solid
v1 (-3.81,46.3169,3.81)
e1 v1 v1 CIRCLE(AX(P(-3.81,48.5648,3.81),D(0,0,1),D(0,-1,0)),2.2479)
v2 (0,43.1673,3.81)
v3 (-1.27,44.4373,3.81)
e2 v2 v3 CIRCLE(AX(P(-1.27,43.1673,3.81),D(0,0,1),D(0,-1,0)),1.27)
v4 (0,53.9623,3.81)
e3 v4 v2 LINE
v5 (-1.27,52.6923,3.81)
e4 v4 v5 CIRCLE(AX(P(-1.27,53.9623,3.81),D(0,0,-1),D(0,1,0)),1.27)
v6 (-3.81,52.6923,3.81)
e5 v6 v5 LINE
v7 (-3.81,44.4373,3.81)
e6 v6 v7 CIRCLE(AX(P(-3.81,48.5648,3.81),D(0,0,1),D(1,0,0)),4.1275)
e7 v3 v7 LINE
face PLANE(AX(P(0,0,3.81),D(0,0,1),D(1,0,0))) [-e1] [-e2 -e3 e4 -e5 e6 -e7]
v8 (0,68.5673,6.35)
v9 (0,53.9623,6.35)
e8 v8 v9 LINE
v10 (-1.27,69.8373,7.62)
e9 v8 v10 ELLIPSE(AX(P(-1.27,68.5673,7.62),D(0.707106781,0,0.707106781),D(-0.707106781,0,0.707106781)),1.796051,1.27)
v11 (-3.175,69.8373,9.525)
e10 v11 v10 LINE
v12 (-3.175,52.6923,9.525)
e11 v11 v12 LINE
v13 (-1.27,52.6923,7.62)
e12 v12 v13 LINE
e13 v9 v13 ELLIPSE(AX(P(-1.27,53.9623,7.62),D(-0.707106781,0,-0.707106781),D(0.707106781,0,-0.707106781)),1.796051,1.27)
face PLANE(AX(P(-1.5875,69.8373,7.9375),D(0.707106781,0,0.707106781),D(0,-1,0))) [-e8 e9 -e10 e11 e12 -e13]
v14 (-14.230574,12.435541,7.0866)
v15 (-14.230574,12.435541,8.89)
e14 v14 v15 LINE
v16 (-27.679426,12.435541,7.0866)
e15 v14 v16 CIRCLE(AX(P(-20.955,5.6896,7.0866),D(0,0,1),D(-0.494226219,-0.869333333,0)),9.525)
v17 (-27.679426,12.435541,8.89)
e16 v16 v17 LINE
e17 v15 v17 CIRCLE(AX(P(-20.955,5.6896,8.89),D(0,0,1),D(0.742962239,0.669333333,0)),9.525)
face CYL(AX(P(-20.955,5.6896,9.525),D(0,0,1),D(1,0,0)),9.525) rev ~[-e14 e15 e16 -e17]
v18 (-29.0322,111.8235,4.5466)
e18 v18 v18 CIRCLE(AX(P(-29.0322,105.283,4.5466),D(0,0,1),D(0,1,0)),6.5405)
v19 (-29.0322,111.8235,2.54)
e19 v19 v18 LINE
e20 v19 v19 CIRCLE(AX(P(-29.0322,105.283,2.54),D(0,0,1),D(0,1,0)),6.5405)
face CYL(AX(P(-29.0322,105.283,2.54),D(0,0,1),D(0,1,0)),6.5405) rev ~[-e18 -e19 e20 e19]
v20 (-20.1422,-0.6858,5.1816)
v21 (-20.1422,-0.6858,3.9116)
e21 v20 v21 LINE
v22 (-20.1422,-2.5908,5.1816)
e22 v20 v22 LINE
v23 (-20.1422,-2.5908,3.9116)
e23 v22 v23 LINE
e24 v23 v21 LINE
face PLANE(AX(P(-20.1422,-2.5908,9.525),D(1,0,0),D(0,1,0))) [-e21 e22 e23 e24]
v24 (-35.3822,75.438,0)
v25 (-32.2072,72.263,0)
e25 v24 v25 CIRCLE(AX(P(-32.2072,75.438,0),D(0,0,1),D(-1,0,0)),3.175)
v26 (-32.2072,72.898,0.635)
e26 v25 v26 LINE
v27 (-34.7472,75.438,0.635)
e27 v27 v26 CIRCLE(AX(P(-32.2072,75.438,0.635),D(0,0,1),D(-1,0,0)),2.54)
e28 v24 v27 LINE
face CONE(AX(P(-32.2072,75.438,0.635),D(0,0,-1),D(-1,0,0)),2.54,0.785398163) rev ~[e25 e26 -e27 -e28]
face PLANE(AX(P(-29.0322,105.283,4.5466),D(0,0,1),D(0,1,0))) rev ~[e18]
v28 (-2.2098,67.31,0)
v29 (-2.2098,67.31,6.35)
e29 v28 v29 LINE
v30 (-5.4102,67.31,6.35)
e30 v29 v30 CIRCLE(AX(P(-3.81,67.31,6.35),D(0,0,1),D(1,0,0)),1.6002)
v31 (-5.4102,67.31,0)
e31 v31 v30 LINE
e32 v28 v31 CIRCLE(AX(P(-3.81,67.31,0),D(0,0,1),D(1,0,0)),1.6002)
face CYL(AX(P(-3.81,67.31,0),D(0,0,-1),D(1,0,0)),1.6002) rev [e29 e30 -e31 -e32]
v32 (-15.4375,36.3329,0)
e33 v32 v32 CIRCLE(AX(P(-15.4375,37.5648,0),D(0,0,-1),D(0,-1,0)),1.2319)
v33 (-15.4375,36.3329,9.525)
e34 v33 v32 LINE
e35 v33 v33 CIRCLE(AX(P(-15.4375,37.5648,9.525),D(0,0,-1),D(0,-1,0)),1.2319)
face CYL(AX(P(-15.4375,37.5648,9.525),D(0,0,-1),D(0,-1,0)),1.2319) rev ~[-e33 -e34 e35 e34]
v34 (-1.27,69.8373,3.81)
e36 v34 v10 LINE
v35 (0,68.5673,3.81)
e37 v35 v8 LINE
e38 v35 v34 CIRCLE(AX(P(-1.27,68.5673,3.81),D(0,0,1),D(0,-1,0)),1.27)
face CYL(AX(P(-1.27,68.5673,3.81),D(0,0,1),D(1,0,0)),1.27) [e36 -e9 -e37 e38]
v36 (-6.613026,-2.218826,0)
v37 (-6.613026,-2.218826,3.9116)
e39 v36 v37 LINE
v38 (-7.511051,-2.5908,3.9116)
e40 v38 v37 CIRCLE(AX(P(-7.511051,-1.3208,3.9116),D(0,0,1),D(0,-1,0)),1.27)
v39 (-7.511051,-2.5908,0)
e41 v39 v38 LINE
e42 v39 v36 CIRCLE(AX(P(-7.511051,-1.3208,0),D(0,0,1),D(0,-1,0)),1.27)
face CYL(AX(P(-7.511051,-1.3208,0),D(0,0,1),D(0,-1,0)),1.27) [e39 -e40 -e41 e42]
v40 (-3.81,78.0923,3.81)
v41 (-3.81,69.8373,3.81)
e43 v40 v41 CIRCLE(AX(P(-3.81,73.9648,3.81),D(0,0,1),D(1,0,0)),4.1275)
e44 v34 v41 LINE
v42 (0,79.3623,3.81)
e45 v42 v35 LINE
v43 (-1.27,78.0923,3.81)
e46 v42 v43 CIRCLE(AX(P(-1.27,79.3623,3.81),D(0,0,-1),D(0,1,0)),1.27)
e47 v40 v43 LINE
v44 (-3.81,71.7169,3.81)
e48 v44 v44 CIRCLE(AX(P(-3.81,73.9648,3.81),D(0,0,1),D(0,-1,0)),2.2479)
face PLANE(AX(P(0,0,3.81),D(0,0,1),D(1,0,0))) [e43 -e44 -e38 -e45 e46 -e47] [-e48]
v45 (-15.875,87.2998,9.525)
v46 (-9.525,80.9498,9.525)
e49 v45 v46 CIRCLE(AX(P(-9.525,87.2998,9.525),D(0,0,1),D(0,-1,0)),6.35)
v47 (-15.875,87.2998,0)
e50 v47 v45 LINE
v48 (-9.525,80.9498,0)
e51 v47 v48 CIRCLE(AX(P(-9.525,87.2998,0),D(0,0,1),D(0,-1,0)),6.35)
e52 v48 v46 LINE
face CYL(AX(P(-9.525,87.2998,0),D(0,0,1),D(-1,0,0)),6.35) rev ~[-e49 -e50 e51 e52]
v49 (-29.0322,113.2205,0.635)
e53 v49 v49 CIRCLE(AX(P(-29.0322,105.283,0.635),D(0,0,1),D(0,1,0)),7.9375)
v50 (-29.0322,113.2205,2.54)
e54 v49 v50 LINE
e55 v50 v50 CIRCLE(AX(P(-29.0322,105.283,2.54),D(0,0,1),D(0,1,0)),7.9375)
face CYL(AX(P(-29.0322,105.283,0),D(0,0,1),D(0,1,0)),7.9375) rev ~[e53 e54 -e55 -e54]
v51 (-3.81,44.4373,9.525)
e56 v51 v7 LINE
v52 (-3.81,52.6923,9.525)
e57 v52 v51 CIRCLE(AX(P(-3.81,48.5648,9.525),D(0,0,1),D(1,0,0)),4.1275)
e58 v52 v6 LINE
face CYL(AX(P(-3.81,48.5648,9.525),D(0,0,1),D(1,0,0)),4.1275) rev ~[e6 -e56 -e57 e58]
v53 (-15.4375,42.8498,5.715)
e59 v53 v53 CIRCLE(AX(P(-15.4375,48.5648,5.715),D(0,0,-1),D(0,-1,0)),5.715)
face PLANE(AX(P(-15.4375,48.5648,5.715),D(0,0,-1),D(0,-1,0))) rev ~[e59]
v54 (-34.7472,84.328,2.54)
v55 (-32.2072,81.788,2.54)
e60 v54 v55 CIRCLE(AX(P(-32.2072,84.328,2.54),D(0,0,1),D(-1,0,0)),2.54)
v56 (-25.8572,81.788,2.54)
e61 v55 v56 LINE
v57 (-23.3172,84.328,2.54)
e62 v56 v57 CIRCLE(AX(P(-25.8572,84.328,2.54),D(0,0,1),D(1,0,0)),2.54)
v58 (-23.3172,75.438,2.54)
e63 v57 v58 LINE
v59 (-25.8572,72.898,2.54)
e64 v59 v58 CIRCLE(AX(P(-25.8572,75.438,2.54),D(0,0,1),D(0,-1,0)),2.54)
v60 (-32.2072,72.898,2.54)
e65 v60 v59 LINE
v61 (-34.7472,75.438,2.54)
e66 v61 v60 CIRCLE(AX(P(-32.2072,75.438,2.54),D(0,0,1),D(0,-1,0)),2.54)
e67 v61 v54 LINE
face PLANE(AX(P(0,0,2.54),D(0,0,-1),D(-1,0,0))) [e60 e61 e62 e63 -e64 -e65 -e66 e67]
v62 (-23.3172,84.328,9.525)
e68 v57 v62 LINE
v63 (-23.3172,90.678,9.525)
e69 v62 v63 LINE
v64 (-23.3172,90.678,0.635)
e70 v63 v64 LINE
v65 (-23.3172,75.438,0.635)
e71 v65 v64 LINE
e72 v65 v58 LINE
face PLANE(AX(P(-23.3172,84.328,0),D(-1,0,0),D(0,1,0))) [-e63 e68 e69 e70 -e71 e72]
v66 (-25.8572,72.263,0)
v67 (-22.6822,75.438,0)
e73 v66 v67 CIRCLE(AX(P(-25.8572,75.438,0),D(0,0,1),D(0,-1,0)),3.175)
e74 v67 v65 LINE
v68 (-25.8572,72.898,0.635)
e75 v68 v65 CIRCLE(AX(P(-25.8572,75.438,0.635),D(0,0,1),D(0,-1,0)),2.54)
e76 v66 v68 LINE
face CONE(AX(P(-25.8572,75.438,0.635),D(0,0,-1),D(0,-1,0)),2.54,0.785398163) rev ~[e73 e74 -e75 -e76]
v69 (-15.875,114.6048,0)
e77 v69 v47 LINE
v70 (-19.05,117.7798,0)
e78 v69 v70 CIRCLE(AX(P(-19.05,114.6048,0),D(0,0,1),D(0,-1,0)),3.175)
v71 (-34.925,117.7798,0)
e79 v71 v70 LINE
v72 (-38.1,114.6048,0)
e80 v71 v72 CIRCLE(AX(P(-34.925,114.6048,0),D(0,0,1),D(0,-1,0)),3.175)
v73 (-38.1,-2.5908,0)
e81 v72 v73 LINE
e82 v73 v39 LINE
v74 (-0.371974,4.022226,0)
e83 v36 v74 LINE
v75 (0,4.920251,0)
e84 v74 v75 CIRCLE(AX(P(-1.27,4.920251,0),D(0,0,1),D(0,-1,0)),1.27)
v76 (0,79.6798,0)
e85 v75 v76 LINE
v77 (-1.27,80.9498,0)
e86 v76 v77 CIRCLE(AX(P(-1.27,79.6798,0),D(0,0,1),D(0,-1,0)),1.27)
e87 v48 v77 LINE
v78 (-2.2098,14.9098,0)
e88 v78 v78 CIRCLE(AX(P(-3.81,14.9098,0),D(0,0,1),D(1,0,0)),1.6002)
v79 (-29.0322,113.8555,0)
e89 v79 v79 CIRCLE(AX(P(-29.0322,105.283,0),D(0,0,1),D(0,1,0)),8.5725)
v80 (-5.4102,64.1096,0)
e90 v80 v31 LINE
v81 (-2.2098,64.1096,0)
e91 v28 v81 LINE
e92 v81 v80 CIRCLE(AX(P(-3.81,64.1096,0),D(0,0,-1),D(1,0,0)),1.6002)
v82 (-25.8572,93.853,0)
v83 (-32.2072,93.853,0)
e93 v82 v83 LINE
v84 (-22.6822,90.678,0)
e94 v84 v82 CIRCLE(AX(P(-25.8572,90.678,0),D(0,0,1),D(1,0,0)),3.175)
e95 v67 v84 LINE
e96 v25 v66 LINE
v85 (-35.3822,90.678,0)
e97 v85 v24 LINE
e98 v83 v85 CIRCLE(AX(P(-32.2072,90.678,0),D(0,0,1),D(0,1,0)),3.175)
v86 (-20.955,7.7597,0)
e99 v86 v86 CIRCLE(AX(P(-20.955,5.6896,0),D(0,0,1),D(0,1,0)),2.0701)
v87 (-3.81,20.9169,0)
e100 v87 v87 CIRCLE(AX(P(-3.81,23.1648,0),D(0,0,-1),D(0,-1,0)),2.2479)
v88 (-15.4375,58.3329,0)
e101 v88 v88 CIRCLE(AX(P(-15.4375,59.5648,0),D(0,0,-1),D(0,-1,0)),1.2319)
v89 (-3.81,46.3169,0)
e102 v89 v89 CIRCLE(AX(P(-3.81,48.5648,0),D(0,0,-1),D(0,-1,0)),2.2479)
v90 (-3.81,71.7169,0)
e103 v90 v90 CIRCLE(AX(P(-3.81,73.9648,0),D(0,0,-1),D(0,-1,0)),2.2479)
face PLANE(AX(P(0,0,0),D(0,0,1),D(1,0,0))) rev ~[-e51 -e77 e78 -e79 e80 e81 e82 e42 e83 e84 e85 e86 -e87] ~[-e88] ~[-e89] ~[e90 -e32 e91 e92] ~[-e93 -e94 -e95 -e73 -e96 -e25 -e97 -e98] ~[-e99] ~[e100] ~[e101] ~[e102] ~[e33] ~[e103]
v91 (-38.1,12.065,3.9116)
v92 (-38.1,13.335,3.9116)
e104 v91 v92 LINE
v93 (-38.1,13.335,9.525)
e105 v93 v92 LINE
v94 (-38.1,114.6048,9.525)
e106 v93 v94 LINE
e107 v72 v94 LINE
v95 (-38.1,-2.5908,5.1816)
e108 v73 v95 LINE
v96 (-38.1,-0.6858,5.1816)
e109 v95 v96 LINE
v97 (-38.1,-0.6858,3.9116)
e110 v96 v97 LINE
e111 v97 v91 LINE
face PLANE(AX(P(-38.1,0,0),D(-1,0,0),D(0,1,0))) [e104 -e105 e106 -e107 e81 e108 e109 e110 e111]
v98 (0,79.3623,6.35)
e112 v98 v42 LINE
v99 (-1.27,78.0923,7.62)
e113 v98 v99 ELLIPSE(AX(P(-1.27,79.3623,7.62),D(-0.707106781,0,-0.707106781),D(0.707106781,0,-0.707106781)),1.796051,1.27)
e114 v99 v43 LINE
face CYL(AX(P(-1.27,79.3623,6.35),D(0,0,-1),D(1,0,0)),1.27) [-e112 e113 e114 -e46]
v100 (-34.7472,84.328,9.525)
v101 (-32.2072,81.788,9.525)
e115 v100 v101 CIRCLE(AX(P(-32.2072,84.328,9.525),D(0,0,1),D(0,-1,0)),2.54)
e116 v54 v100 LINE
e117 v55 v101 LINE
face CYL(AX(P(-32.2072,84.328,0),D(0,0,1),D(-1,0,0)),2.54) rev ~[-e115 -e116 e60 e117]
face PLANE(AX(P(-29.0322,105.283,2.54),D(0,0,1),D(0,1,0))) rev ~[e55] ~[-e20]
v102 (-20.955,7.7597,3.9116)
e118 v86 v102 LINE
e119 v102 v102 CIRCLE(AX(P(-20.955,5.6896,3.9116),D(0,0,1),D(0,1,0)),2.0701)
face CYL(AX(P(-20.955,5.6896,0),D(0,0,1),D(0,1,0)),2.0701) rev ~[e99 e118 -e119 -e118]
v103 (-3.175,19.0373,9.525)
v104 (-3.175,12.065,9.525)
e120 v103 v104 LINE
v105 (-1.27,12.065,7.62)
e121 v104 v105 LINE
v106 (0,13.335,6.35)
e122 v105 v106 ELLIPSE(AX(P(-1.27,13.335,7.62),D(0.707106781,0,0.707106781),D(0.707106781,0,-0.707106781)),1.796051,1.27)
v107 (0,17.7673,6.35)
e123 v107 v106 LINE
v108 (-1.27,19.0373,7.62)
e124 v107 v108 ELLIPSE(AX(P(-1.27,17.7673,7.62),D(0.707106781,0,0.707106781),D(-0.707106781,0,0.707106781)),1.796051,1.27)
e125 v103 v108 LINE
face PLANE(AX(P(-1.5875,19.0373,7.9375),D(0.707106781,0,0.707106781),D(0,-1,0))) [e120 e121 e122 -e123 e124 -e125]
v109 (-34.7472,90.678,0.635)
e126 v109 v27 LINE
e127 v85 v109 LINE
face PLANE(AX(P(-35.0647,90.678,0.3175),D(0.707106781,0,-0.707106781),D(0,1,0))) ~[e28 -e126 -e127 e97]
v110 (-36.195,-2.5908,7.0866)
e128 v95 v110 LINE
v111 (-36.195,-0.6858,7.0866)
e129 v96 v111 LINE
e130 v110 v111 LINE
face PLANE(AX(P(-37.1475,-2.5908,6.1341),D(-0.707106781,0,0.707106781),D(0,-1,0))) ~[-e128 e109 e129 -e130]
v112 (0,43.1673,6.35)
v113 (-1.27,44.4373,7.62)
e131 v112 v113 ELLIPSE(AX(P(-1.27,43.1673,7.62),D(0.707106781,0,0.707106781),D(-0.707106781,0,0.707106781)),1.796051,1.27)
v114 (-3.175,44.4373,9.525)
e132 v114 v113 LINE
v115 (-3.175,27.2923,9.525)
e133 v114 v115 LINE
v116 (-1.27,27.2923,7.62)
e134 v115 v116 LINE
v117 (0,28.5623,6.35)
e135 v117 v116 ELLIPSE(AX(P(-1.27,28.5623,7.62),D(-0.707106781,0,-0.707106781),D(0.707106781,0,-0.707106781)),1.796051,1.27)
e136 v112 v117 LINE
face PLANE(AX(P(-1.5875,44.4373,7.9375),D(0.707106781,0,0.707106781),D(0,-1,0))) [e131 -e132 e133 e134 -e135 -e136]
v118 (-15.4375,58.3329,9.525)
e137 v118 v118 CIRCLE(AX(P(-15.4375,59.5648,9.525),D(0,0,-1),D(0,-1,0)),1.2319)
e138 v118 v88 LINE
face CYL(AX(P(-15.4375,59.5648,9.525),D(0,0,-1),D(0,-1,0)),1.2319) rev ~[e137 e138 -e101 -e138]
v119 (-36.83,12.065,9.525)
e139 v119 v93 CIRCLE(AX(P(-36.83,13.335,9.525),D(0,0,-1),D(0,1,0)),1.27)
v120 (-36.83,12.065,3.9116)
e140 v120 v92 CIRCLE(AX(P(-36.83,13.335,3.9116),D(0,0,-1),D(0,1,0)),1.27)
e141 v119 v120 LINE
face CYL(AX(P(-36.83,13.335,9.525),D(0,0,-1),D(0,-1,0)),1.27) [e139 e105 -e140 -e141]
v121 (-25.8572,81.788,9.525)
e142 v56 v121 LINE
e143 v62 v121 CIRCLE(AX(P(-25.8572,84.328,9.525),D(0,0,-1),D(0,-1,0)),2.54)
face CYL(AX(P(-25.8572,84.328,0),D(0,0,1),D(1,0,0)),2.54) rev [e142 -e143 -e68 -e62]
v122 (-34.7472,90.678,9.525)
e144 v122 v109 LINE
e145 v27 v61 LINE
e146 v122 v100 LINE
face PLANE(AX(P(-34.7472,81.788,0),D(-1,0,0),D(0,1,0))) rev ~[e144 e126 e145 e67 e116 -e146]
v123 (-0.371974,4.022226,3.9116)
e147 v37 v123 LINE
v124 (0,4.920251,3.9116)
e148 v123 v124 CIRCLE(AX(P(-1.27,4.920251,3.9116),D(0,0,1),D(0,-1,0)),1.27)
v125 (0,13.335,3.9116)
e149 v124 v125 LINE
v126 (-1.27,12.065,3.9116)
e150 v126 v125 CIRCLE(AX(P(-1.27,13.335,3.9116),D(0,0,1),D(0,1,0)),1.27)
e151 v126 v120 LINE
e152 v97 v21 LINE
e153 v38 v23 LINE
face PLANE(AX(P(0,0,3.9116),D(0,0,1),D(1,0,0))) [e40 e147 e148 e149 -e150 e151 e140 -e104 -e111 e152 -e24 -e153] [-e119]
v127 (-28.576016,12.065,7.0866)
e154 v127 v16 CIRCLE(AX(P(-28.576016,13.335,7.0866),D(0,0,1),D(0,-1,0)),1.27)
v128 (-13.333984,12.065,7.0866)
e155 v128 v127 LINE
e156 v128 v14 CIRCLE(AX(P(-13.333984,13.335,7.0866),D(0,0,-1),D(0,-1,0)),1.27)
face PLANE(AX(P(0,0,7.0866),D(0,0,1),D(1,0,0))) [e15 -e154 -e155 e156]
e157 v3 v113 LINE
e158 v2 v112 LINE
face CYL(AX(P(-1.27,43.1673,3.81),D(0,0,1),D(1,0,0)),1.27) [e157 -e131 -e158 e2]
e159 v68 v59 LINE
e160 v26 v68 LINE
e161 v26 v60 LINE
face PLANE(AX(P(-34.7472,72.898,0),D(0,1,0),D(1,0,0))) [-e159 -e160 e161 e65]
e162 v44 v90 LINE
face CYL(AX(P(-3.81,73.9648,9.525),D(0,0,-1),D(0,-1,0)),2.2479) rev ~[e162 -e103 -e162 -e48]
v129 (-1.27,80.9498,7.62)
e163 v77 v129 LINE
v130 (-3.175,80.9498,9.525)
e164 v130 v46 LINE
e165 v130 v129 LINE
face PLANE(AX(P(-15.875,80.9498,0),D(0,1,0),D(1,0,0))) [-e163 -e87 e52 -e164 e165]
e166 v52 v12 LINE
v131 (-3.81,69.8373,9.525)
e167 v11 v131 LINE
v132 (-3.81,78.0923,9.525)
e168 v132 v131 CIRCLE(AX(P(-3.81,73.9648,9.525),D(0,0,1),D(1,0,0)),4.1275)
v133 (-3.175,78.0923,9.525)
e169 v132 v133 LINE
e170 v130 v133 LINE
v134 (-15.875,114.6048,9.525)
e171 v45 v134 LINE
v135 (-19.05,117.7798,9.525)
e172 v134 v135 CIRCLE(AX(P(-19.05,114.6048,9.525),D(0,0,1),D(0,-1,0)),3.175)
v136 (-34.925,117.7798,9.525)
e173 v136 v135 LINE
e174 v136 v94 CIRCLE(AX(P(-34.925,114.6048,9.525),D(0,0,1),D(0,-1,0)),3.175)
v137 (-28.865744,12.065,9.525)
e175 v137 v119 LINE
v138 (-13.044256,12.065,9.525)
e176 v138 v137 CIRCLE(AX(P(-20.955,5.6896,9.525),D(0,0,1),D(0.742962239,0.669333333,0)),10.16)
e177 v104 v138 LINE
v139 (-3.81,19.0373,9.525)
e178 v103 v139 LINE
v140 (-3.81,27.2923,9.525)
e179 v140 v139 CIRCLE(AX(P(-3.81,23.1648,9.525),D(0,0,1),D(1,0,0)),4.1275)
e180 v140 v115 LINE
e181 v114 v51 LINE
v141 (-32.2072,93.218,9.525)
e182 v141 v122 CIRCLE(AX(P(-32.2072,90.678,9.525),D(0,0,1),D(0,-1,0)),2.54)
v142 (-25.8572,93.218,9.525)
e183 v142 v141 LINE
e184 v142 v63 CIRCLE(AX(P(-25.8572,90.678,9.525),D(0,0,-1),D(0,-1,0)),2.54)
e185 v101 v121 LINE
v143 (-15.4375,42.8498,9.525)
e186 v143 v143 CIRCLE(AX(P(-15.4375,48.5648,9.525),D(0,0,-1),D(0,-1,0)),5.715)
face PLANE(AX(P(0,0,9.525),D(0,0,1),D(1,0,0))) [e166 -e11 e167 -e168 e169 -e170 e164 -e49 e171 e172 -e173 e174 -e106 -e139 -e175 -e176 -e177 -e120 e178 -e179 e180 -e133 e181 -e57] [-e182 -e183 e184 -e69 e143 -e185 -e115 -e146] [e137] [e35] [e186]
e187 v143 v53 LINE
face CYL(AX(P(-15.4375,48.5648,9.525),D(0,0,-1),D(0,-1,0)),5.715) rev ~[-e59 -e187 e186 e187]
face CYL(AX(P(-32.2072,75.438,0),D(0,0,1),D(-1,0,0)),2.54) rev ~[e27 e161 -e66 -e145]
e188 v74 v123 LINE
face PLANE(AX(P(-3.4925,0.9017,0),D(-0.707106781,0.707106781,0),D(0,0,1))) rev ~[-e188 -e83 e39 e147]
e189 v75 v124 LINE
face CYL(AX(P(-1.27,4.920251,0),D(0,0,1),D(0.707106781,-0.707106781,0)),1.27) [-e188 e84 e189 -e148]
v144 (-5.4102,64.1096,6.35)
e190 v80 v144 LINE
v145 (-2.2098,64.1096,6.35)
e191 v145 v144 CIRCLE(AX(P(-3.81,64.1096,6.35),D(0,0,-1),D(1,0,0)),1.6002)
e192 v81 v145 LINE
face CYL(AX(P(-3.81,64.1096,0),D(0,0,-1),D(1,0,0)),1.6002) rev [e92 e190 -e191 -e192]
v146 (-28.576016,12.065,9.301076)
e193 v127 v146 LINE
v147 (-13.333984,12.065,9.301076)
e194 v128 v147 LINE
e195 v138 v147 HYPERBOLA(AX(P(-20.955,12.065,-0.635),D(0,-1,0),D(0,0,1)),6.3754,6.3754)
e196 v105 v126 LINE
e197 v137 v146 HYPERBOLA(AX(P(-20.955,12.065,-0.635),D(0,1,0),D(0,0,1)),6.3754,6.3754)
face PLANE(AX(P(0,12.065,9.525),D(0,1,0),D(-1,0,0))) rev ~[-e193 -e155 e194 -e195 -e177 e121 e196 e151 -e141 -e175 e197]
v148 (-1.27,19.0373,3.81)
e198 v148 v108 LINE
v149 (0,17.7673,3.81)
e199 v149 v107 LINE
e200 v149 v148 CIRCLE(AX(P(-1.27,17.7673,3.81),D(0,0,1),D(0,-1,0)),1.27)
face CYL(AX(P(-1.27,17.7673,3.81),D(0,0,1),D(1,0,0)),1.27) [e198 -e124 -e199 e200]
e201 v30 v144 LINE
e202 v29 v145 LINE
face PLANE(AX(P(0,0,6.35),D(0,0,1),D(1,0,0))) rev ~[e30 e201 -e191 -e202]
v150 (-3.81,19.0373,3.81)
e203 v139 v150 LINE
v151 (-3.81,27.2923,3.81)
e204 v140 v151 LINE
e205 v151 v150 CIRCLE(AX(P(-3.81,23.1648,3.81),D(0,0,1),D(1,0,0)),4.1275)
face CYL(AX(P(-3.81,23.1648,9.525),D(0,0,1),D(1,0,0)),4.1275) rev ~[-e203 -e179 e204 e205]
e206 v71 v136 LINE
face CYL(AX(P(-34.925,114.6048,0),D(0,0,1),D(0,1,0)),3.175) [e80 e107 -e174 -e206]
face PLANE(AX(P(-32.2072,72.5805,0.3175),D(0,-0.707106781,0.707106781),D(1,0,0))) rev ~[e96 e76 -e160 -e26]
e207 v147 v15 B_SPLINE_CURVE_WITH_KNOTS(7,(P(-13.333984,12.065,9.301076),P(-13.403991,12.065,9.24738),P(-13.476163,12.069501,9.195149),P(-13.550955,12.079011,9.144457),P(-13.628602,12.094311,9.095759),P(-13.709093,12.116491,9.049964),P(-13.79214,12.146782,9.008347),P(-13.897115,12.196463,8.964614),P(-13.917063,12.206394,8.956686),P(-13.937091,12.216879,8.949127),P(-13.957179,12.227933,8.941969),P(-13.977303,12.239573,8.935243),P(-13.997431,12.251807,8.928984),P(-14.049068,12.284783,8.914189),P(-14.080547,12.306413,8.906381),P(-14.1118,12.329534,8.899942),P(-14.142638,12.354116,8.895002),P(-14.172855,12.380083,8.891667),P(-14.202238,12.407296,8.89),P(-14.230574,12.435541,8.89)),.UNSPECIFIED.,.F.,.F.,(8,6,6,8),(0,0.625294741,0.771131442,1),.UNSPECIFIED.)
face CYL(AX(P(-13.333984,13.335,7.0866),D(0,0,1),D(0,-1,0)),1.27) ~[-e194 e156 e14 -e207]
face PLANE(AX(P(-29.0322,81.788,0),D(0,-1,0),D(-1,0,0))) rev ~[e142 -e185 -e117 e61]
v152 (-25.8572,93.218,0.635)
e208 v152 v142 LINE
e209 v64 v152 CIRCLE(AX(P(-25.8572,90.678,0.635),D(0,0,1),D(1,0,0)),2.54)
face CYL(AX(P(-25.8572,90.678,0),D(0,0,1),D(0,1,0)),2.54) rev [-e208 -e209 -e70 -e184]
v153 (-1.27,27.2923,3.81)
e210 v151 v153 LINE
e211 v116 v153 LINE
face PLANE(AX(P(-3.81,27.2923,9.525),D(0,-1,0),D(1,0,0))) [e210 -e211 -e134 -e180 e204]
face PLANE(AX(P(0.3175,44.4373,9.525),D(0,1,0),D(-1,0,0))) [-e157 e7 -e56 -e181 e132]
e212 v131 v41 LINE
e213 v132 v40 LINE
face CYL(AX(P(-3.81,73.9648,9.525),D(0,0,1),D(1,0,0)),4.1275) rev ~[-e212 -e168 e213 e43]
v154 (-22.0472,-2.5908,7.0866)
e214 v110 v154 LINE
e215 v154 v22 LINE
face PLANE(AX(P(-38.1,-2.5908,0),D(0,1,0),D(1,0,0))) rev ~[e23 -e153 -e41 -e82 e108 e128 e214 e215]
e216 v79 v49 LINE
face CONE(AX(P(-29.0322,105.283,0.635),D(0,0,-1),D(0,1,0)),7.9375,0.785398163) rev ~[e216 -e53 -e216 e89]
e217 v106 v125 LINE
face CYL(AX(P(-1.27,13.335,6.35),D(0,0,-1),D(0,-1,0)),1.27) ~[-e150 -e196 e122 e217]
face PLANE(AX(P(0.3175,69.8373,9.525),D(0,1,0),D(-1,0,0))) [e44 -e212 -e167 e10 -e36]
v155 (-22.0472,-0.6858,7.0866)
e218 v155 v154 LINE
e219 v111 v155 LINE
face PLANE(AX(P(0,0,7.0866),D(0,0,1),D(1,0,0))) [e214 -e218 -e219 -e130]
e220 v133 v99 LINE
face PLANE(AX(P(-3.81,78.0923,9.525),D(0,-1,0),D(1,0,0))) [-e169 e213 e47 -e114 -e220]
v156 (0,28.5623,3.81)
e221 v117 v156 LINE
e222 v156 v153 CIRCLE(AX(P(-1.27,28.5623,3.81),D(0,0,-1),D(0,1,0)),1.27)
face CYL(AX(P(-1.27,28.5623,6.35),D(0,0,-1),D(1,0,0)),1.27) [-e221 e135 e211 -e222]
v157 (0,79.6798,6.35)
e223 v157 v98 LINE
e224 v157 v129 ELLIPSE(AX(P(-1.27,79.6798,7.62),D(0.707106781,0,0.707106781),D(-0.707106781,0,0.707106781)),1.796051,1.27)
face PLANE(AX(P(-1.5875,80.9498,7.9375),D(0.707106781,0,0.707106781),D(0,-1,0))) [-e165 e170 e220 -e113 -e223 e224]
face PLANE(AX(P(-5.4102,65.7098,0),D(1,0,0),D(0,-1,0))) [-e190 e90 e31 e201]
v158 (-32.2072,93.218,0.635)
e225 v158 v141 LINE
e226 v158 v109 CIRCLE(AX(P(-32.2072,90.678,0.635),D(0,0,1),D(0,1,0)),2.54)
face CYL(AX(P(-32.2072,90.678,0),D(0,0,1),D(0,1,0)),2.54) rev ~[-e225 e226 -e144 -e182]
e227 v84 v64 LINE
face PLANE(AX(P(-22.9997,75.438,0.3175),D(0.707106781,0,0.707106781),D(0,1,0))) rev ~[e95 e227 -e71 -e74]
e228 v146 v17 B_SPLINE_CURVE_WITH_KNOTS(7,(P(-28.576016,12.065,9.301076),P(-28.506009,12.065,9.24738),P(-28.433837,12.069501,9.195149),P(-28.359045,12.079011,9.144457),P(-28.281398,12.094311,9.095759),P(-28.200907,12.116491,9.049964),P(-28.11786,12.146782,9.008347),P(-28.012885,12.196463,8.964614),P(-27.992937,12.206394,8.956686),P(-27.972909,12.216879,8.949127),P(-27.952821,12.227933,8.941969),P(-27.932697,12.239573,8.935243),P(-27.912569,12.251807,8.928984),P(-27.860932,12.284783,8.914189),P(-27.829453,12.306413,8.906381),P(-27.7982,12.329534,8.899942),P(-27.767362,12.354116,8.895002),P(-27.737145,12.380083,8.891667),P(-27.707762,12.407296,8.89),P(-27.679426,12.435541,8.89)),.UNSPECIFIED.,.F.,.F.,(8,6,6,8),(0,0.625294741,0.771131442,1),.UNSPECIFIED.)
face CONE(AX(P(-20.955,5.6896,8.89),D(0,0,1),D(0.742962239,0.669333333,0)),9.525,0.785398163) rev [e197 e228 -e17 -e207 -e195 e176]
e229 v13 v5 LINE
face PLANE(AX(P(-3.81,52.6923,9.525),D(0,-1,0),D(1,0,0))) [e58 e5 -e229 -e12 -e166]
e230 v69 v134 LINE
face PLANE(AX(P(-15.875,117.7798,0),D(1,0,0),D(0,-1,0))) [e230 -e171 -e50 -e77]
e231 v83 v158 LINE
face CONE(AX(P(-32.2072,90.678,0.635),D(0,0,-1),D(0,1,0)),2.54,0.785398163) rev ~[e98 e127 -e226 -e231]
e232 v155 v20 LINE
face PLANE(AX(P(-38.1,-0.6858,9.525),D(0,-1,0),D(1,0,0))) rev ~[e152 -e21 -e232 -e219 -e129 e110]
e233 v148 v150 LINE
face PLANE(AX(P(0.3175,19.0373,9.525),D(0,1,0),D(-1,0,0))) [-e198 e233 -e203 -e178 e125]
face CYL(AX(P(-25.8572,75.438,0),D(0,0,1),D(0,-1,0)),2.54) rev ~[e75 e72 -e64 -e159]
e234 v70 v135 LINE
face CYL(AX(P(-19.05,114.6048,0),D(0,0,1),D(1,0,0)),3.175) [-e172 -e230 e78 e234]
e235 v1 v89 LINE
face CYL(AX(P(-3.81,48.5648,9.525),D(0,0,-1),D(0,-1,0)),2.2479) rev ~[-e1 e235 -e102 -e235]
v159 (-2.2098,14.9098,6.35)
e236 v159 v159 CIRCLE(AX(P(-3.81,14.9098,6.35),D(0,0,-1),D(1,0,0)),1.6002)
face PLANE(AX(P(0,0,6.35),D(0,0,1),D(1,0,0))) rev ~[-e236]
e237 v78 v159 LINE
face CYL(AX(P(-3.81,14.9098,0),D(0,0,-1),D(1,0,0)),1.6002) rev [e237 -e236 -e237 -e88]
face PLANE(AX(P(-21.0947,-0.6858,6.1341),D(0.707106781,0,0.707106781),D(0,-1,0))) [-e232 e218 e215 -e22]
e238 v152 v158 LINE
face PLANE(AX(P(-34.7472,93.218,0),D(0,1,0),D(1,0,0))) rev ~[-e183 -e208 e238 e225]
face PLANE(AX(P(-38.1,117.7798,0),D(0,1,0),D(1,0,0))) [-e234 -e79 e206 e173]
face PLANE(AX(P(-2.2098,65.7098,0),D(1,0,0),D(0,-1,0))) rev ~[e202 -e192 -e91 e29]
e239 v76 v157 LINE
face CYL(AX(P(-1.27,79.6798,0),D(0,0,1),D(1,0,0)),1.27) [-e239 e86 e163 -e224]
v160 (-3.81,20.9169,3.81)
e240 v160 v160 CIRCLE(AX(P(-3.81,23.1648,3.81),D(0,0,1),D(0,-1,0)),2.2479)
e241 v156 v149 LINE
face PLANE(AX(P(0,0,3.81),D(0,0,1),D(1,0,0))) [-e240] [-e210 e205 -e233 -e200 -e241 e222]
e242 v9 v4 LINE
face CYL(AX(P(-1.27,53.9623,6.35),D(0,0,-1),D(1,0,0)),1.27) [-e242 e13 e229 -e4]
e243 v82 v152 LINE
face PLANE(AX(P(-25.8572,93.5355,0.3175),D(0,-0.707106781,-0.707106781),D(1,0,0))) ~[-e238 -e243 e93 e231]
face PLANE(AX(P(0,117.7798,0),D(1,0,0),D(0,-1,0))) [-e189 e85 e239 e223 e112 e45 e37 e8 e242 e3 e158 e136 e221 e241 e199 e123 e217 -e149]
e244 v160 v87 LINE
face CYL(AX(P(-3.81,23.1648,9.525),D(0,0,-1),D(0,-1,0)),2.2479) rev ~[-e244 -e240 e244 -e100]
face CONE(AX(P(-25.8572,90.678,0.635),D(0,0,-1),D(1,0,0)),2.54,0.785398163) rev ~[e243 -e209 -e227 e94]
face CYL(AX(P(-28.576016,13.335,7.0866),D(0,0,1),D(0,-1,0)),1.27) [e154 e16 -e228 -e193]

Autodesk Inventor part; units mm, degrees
ref_plane "Work Plane1-between two actuators" through (-29.0322, 0, 0) normal (1, 0, 0) x (0, 1, 0)
ref_plane "Work Plane2-Y position of rear act" through (0, 105.283, 0) normal (0, 1, 0) x (-1, 0, 0)
ref_plane "Work Plane5-Y Position of Front Actuator" through (0, 18.923, 0) normal (0, 1, 0) x (-1, 0, 0)
ref_plane "Work Plane3-top of part" through (0, 0, 9.525) normal (0, 0, 1) x (1, 0, 0)
ref_plane "Work Plane4 -Assembly Mate Height" through (0, 0, -0.8636) normal (0, 0, 1) x (1, 0, 0)
ref_plane "Work Plane6 center of ball tip plane" through (0, 0, -0.2794) normal (0, 0, 1) x (1, 0, 0)
sketch "Sketch5" plane through (0, 0, 0) normal (1, 0, 0) x (0, 1, 0)
  point P0 (0, 0)
sketch "Sketch1" plane through (0, 0, 0) normal (0, 0, 1) x (1, 0, 0)
  line L0 (-38.1, 117.7798) -> (0, 117.7798)
  line L1 (0, 117.7798) -> (0, -2.5908)
  line L2 (-38.1, -2.5908) -> (-38.1, 117.7798)
  line L3 (-38.1, -2.5908) -> (0, -2.5908)
  line L4 (-45.72, 0) -> (7.62, 0) projected
  line L5 (0, 142.0481) -> (0, -27.8299) projected
  point P0 (0, 0)
  point P1 (0, -3.5617)
  dimension "d0" = 38.1
  dimension "d55" = 0
  dimension "d135" = 117.7798
  dimension "d136" = 2.5908
extrude "Extrusion1" add sketch "Sketch1" along normal blind 9.525
sketch "Sketch9" plane through (0, 0, 0) normal (0, 0, 1) x (1, 0, 0)
  circle A0 centre (-3.81, 65.7098) radius 1.6002
  circle A1 centre (-3.81, 14.9098) radius 1.6002
  line L0 (0, 117.7798) -> (0, 0) projected
  line L1 (-6.4922, 0) -> (1.082, 0) projected
  circle A2 centre (-3.81, 67.31) radius 1.6002
  circle A3 centre (-3.81, 64.1096) radius 1.6002
  line L2 (-5.4102, 67.31) -> (-5.4102, 64.1096)
  line L3 (-2.2098, 67.31) -> (-2.2098, 64.1096)
  line L4 (-3.81, 65.7098) -> (-3.81, 14.9098)
  dimension "d59" = 3.2004
  dimension "d60" = 3.2004
  dimension "d61" = 50.8
  dimension "d62" = 3.81
  dimension "d63" = 14.9098
extrude "Locating Pin features Extrusion7" cut sketch "Sketch9" along normal blind 6.35
sketch "Sketch10" plane through (0, 0, 9.525) normal (0, 0, 1) x (1, 0, 0)
  circle A0 centre (-3.81, 14.9098) radius 1.6002 projected
  circle A1 centre (-3.81, 23.1648) radius 1.5875
  circle A2 centre (-3.81, 73.9648) radius 1.5875
  arc A3 (-2.2098, 67.31) -> (-5.4102, 67.31) centre (-3.81, 67.31) ccw projected
  arc A4 (-5.4102, 64.1096) -> (-2.2098, 64.1096) centre (-3.81, 64.1096) ccw projected
  line L0 (-5.4102, 64.1096) -> (-5.4102, 67.31) projected
  line L1 (-2.2098, 67.31) -> (-2.2098, 64.1096) projected
  line L2 (-5.4102, 65.7098) -> (-2.2098, 65.7098)
  line L3 (-3.81, 65.7098) -> (-3.81, 14.9098)
  point P0 (0, 0)
  point P1 (-3.81, 48.5648)
  dimension "d67" = 3.175
  dimension "d68" = 3.175
  dimension "d69" = 50.8
  dimension "d282" = 23.1648
  dimension "d295" = 25.4
hole "Mtg Holes Hole2" at (-3.81, 23.1648, 9.525) at (-3.81, 73.9648, 9.525) at (-3.81, 48.5648, 9.525) direction (0, 0, -1) diameter 4.4958 end through all
sketch "Sketch22" plane through (0, 0, 0) normal (0, 0, 1) x (1, 0, 0)
  circle A0 centre (-29.0418, 18.923) radius 2.54 construction
  line L0 (-41.6966, 105.283) -> (6.9494, 105.283) construction
  line L1 (-34.7472, 93.218) -> (-23.3172, 93.218)
  line L2 (-23.3172, 93.218) -> (-23.3172, 81.788)
  line L3 (-23.3172, 81.788) -> (-34.7472, 81.788)
  line L4 (-34.7472, 81.788) -> (-34.7472, 93.218)
  line L5 (-23.3172, 87.503) -> (-34.7472, 87.503) construction
  line L6 (-34.7472, 38.608) -> (-23.3172, 38.608)
  line L7 (-23.3172, 38.608) -> (-23.3172, 27.178)
  line L8 (-23.3172, 27.178) -> (-34.7472, 27.178)
  line L9 (-34.7472, 27.178) -> (-34.7472, 38.608)
  line L10 (-23.3172, 32.893) -> (-34.7472, 32.893) construction
  line L11 (-41.6966, 18.923) -> (6.9494, 18.923) projected
  line L12 (-29.0322, 111.8616) -> (-29.0322, -18.6436) projected
  line L13 (-29.0322, 93.218) -> (-29.0322, 81.788) construction
  line L14 (-29.0322, 93.218) -> (-29.0322, 81.788) construction
  line L15 (-29.0322, 38.608) -> (-29.0322, 27.178) construction
  dimension "d149" = 11.43
  dimension "d150" = 11.43
  dimension "d225" = 13.97
  dimension "d226" = 17.78
  dimension "d227" = 0
extrude "Extrusion13" cut sketch "Sketch22" along normal through all contours L1 L12 L3 L4 | L1 L2 L3 L12
sketch "Sketch38" plane through (0, 0, 9.525) normal (0, 0, 1) x (1, 0, 0)
  line L0 (-38.1, -2.5908) -> (-38.1, 117.7798) projected
  line L1 (0, -2.5908) -> (-38.1, -2.5908) projected
  line L2 (-38.1, -0.6858) -> (0, -0.6858)
  line L3 (0, -0.6858) -> (0, 12.065)
  line L4 (0, 12.065) -> (-38.1, 12.065)
  line L5 (-38.1, 12.065) -> (-38.1, -0.6858)
  line L6 (-20.1422, -0.6858) -> (0, -0.6858)
  line L7 (0, -0.6858) -> (0, -2.5908)
  line L8 (0, -2.5908) -> (-20.1422, -2.5908)
  line L9 (-20.1422, -2.5908) -> (-20.1422, -0.6858)
  point P0 (0, 0)
  dimension "d302" = 17.9578
  dimension "d303" = 1.905
  dimension "d304" = 12.7508
extrude "Extrusion22" cut sketch "Sketch38" against normal blind 5.6134 contours L0 L4 L3 L2 | L9 L2 L7 L1
sketch "Sketch39" plane through (0, 0, 0) normal (0, 0, 1) x (1, 0, 0)
  line L0 (-38.1, -0.6858) -> (-38.1, 12.065) projected
  line L1 (-38.1, 12.065) -> (0, 12.065) projected
  point P0 (0, 0)
  point P1 (-20.955, 5.6896)
  dimension "d307" = 17.145
  dimension "d308" = 6.3754
hole "Hole10" at (-20.955, 5.6896, 0) direction (0, 0, 1) diameter 4.1402 end through all
sketch "Sketch40" plane through (0, 0, 9.525) normal (0, 0, 1) x (1, 0, 0)
  line L0 (-20.1422, -0.6858) -> (-38.1, -0.6858) projected
  line L1 (-38.1, -2.5908) -> (-38.1, -0.6858) projected
  line L2 (-20.1422, -2.5908) -> (-20.1422, -0.6858) projected
  line L3 (-20.1422, -2.5908) -> (-38.1, -2.5908) projected
  circle A0 centre (-20.955, 5.6896) radius 2.0701 projected
  line L4 (-38.1, -0.6858) -> (-20.1422, -0.6858)
  line L5 (-20.1422, -0.6858) -> (-20.1422, -2.5908)
  line L6 (-20.1422, -2.5908) -> (-38.1, -2.5908)
  line L7 (-38.1, -2.5908) -> (-38.1, -0.6858)
  circle A1 centre (-20.955, 5.6896) radius 9.525
  point P0 (0, 0)
  dimension "d316" = 19.05
extrude "Extrusion23" cut sketch "Sketch40" against normal blind 2.4384 contours L2 L3 A1 L0 | L0 A1 L3 L2 | A1 L3 L1 L0 | A0
sketch "Sketch34" plane through (0, 0, 9.525) normal (0, 0, 1) x (1, 0, 0)
  circle A0 centre (-3.81, 73.9648) radius 2.2479 projected
  circle A1 centre (-3.81, 23.1648) radius 2.2479 projected
  line L0 (0, 117.7798) -> (0, -2.5908) projected
  line L1 (0, -2.5908) -> (-38.1, -2.5908) projected
  line L2 (-3.81, 73.9648) -> (-3.81, 23.1648)
  line L3 (-15.4375, 59.5648) -> (-15.4375, 37.5648)
  line L4 (0, 141.8539) -> (0, -26.6649) projected
  point P0 (0, 0)
  point P1 (-15.4375, 48.5648)
  point P2 (-3.81, 48.5648)
  dimension "d269" = 22
  dimension "d270" = 15.4375
hole "Hole9" at (-15.4375, 59.5648, 9.525) at (-15.4375, 37.5648, 9.525) direction (0, 0, -1) diameter 2.4638 end through all
fillet "Fillet10" radius 2.54 4 edges at (-23.3172, 93.218, 4.7625) (-23.3172, 81.788, 4.7625) (-34.7472, 81.788, 4.7625) (-34.7472, 93.218, 4.7625)
sketch "Sketch24" plane through (0, 0, 0) normal (0, 0, 1) x (1, 0, 0)
  circle A0 centre (-32.8422, 76.708) radius 1.27
  circle A1 centre (-25.2222, 76.708) radius 1.27
  line L0 (-41.6966, 105.283) -> (6.9494, 105.283) projected
  line L1 (-34.7472, 84.328) -> (-34.7472, 90.678) construction
  line L2 (-34.7472, 87.503) -> (-31.3197, 87.503) construction
  line L3 (-29.0322, 170.9362) -> (-29.0322, -28.4894) construction
  line L4 (-29.0322, 105.283) -> (-29.0322, 142.4468) construction
  dimension "d167" = 2.54
  dimension "d168" = 7.62
  dimension "d236" = 10.795
hole "Hole4" [suppressed]
sketch "Sketch31" plane through (0, 0, 9.525) normal (0, 0, 1) x (1, 0, 0)
  line L0 (-45.72, 105.283) -> (7.62, 105.283) projected
  line L1 (-29.0322, 141.8539) -> (-29.0322, -26.6649) projected
  point P0 (0, 0)
  point P1 (-29.0322, 105.283)
hole "Hole6" [suppressed]
sketch "Sketch33" plane through (0, 0, 0) normal (0, 0, -1) x (-1, 0, 0)
  line L0 (-7.62, 105.283) -> (45.72, 105.283) projected
  line L1 (29.0322, -26.6649) -> (29.0322, 141.8539) projected
  point P0 (0, 0)
  point P1 (29.0322, 105.283)
hole "Hole8" at (-29.0322, 105.283, 0) direction (0, 0, 1) diameter 13.081 depth 4.5466 counterbore diameter 15.875 counterbore depth 2.54
sketch "Sketch44" plane through (0, 0, 0) normal (0, 0, -1) x (-1, 0, 0)
  circle A0 centre (25.2222, 76.708) radius 1.2319 projected
  circle A1 centre (32.8422, 76.708) radius 1.2319 projected
  line L0 (23.3172, 84.328) -> (23.3172, 90.678) projected
  arc A2 (25.8572, 93.218) -> (23.3172, 90.678) centre (25.8572, 90.678) ccw projected
  line L1 (25.8572, 93.218) -> (32.2072, 93.218) projected
  line L2 (34.7472, 90.678) -> (34.7472, 84.328) projected
  line L3 (32.2072, 81.788) -> (25.8572, 81.788) projected
  line L4 (23.3172, 90.678) -> (34.7472, 90.678)
  line L5 (34.7472, 90.678) -> (34.7472, 72.898)
  line L6 (34.7472, 72.898) -> (23.3172, 72.898)
  line L7 (23.3172, 72.898) -> (23.3172, 90.678)
  point P0 (0, 0)
  dimension "d341" = 8.89
extrude "Extrusion24" cut sketch "Sketch44" against normal blind 2.54 contours A0 | A1 | L0 L4 L2 L5 L6 L7
fillet "Fillet27" radius 2.54 2 edges at (-23.3172, 72.898, 1.27) (-34.7472, 72.898, 1.27)
chamfer "Chamfer17" distance 0.635 angle 45 8 edges at (-23.3172, 83.058, 0) (-24.0611, 92.4741, 0) (-29.0322, 93.218, 0) (-34.0033, 92.4741, 0) (-34.7472, 83.058, 0) (-34.0033, 73.6419, 0) (-29.0322, 72.898, 0) (-24.0611, 73.6419, 0)
sketch "Sketch35" plane through (0, 0, 0) normal (0, 0, 1) x (1, 0, 0)
  line L0 (-38.1, 117.7798) -> (0, 117.7798) projected
  line L1 (0, 117.7798) -> (0, 12.065) projected
  line L2 (0, 117.7798) -> (-15.875, 117.7798)
  line L3 (-15.875, 117.7798) -> (-15.875, 80.9498)
  line L4 (-15.875, 80.9498) -> (0, 80.9498)
  line L5 (0, 80.9498) -> (0, 117.7798)
  line L6 (-38.1, 12.065) -> (-38.1, 117.7798) projected
  point P0 (0, 0)
  point P1 (0, 4.3942)
  point P2 (-38.1, -2.5908)
  point P3 (0, 1.8542)
  point P4 (0, -2.5908)
  dimension "d283" = 15.875
  dimension "d284" = 22.225
  dimension "d285" = 36.83
extrude "Extrusion19" cut sketch "Sketch35" along normal blind 25.4
sketch "Sketch37" plane through (0, 0, 9.525) normal (0, 0, 1) x (1, 0, 0)
  circle A0 centre (-3.81, 48.5648) radius 2.2479 projected
  circle A1 centre (-3.81, 73.9648) radius 2.2479 projected
  circle A2 centre (-3.81, 23.1648) radius 2.2479 projected
  circle A3 centre (-3.81, 73.9648) radius 4.1275
  circle A4 centre (-3.81, 48.5648) radius 4.1275
  circle A5 centre (-3.81, 23.1648) radius 4.1275
  line L0 (-3.81, 78.0923) -> (0.3175, 78.0923)
  line L1 (0.3175, 78.0923) -> (0.3175, 69.8373)
  line L2 (0.3175, 69.8373) -> (-3.81, 69.8373)
  line L3 (-3.81, 69.8373) -> (-3.81, 78.0923)
  line L4 (-3.81, 52.6923) -> (0.3175, 52.6923)
  line L5 (0.3175, 52.6923) -> (0.3175, 44.4373)
  line L6 (0.3175, 44.4373) -> (-3.81, 44.4373)
  line L7 (-3.81, 44.4373) -> (-3.81, 52.6923)
  line L8 (-3.81, 27.2923) -> (0.3175, 27.2923)
  line L9 (0.3175, 27.2923) -> (0.3175, 19.0373)
  line L10 (0.3175, 19.0373) -> (-3.81, 19.0373)
  line L11 (-3.81, 19.0373) -> (-3.81, 27.2923)
  point P0 (0, 0)
  dimension "d298" = 8.255
extrude "Extrusion21" cut sketch "Sketch37" against normal blind 5.715 contours A0 L7 | A0 L7 A4 | A0 L7 A4 | L4 L5 A4 | A4 L5 L6 | A1 L3 | A1 L3 A3 | A1 L3 A3 | L0 L1 A3 | A3 L1 L2 | A2 L11 | A2 L11 A5 | A2 L11 A5 | L8 L9 A5 | A5 L9 L10 picked at (-2.5903, 49.1767) picked at (-3.3428, 74.5506) picked at (-3.0093, 23.7506)
chamfer "Chamfer12" distance 0.635 angle 45 1 edges at (-29.0322, 97.3455, 0)
fillet "Fillet20" radius 6.35 1 edges at (-15.875, 80.9498, 4.7625)
fillet "Fillet21" radius 3.175 2 edges at (-15.875, 117.7798, 4.7625) (-38.1, 117.7798, 4.7625)
fillet "Fillet23" [suppressed]
chamfer "Chamfer13" distance 1.905 angle 45 2 edges at (-20.1422, -1.6383, 7.0866) (-38.1, -1.6383, 7.0866)
chamfer "Chamfer14" distance 6.985 angle 45 1 edges at (0, -2.5908, 1.9558)
fillet "Fillet24" radius 1.27 2 edges at (0, 4.3942, 1.9558) (-6.985, -2.5908, 1.9558)
chamfer "Chamfer15" distance 0.635 angle 45 1 edges at (-20.955, 15.2146, 9.525)
fillet "Fillet25" radius 1.27 2 edges at (-13.8783, 12.065, 7.9883) (-28.0317, 12.065, 7.9883)
chamfer "Chamfer16" distance 3.175 angle 45 4 edges at (0, 15.5512, 9.525) (0, 35.8648, 9.525) (0, 61.2648, 9.525) (0, 79.5211, 9.525)
fillet "Fillet26" radius 1.27 8 edges at (0, 12.065, 5.1308) (0, 19.0373, 5.08) (0, 27.2923, 5.08) (0, 44.4373, 5.08) (0, 52.6923, 5.08) (0, 69.8373, 5.08) (0, 78.0923, 5.08) (0, 80.9498, 3.175)
sketch "Sketch41" plane through (0, 0, 9.525) normal (0, 0, 1) x (1, 0, 0)
  circle A0 centre (-15.4375, 37.5648) radius 1.2319 projected
  circle A1 centre (-15.4375, 59.5648) radius 1.2319 projected
  line L0 (-32.2072, 93.218) -> (-25.8572, 93.218) projected
  line L1 (-15.4375, 59.5648) -> (-15.4375, 37.5648) construction
  point P0 (0, 0)
  point P1 (-15.4375, 48.5648)
hole "Hole11" at (-15.4375, 48.5648, 9.525) direction (0, 0, -1) diameter 11.43 depth 3.81
fillet "Fillet28" radius 1.27 1 edges at (-38.1, 12.065, 6.7183)
properties part number "J002875" material "ALUMINUM, 6061-T651"
